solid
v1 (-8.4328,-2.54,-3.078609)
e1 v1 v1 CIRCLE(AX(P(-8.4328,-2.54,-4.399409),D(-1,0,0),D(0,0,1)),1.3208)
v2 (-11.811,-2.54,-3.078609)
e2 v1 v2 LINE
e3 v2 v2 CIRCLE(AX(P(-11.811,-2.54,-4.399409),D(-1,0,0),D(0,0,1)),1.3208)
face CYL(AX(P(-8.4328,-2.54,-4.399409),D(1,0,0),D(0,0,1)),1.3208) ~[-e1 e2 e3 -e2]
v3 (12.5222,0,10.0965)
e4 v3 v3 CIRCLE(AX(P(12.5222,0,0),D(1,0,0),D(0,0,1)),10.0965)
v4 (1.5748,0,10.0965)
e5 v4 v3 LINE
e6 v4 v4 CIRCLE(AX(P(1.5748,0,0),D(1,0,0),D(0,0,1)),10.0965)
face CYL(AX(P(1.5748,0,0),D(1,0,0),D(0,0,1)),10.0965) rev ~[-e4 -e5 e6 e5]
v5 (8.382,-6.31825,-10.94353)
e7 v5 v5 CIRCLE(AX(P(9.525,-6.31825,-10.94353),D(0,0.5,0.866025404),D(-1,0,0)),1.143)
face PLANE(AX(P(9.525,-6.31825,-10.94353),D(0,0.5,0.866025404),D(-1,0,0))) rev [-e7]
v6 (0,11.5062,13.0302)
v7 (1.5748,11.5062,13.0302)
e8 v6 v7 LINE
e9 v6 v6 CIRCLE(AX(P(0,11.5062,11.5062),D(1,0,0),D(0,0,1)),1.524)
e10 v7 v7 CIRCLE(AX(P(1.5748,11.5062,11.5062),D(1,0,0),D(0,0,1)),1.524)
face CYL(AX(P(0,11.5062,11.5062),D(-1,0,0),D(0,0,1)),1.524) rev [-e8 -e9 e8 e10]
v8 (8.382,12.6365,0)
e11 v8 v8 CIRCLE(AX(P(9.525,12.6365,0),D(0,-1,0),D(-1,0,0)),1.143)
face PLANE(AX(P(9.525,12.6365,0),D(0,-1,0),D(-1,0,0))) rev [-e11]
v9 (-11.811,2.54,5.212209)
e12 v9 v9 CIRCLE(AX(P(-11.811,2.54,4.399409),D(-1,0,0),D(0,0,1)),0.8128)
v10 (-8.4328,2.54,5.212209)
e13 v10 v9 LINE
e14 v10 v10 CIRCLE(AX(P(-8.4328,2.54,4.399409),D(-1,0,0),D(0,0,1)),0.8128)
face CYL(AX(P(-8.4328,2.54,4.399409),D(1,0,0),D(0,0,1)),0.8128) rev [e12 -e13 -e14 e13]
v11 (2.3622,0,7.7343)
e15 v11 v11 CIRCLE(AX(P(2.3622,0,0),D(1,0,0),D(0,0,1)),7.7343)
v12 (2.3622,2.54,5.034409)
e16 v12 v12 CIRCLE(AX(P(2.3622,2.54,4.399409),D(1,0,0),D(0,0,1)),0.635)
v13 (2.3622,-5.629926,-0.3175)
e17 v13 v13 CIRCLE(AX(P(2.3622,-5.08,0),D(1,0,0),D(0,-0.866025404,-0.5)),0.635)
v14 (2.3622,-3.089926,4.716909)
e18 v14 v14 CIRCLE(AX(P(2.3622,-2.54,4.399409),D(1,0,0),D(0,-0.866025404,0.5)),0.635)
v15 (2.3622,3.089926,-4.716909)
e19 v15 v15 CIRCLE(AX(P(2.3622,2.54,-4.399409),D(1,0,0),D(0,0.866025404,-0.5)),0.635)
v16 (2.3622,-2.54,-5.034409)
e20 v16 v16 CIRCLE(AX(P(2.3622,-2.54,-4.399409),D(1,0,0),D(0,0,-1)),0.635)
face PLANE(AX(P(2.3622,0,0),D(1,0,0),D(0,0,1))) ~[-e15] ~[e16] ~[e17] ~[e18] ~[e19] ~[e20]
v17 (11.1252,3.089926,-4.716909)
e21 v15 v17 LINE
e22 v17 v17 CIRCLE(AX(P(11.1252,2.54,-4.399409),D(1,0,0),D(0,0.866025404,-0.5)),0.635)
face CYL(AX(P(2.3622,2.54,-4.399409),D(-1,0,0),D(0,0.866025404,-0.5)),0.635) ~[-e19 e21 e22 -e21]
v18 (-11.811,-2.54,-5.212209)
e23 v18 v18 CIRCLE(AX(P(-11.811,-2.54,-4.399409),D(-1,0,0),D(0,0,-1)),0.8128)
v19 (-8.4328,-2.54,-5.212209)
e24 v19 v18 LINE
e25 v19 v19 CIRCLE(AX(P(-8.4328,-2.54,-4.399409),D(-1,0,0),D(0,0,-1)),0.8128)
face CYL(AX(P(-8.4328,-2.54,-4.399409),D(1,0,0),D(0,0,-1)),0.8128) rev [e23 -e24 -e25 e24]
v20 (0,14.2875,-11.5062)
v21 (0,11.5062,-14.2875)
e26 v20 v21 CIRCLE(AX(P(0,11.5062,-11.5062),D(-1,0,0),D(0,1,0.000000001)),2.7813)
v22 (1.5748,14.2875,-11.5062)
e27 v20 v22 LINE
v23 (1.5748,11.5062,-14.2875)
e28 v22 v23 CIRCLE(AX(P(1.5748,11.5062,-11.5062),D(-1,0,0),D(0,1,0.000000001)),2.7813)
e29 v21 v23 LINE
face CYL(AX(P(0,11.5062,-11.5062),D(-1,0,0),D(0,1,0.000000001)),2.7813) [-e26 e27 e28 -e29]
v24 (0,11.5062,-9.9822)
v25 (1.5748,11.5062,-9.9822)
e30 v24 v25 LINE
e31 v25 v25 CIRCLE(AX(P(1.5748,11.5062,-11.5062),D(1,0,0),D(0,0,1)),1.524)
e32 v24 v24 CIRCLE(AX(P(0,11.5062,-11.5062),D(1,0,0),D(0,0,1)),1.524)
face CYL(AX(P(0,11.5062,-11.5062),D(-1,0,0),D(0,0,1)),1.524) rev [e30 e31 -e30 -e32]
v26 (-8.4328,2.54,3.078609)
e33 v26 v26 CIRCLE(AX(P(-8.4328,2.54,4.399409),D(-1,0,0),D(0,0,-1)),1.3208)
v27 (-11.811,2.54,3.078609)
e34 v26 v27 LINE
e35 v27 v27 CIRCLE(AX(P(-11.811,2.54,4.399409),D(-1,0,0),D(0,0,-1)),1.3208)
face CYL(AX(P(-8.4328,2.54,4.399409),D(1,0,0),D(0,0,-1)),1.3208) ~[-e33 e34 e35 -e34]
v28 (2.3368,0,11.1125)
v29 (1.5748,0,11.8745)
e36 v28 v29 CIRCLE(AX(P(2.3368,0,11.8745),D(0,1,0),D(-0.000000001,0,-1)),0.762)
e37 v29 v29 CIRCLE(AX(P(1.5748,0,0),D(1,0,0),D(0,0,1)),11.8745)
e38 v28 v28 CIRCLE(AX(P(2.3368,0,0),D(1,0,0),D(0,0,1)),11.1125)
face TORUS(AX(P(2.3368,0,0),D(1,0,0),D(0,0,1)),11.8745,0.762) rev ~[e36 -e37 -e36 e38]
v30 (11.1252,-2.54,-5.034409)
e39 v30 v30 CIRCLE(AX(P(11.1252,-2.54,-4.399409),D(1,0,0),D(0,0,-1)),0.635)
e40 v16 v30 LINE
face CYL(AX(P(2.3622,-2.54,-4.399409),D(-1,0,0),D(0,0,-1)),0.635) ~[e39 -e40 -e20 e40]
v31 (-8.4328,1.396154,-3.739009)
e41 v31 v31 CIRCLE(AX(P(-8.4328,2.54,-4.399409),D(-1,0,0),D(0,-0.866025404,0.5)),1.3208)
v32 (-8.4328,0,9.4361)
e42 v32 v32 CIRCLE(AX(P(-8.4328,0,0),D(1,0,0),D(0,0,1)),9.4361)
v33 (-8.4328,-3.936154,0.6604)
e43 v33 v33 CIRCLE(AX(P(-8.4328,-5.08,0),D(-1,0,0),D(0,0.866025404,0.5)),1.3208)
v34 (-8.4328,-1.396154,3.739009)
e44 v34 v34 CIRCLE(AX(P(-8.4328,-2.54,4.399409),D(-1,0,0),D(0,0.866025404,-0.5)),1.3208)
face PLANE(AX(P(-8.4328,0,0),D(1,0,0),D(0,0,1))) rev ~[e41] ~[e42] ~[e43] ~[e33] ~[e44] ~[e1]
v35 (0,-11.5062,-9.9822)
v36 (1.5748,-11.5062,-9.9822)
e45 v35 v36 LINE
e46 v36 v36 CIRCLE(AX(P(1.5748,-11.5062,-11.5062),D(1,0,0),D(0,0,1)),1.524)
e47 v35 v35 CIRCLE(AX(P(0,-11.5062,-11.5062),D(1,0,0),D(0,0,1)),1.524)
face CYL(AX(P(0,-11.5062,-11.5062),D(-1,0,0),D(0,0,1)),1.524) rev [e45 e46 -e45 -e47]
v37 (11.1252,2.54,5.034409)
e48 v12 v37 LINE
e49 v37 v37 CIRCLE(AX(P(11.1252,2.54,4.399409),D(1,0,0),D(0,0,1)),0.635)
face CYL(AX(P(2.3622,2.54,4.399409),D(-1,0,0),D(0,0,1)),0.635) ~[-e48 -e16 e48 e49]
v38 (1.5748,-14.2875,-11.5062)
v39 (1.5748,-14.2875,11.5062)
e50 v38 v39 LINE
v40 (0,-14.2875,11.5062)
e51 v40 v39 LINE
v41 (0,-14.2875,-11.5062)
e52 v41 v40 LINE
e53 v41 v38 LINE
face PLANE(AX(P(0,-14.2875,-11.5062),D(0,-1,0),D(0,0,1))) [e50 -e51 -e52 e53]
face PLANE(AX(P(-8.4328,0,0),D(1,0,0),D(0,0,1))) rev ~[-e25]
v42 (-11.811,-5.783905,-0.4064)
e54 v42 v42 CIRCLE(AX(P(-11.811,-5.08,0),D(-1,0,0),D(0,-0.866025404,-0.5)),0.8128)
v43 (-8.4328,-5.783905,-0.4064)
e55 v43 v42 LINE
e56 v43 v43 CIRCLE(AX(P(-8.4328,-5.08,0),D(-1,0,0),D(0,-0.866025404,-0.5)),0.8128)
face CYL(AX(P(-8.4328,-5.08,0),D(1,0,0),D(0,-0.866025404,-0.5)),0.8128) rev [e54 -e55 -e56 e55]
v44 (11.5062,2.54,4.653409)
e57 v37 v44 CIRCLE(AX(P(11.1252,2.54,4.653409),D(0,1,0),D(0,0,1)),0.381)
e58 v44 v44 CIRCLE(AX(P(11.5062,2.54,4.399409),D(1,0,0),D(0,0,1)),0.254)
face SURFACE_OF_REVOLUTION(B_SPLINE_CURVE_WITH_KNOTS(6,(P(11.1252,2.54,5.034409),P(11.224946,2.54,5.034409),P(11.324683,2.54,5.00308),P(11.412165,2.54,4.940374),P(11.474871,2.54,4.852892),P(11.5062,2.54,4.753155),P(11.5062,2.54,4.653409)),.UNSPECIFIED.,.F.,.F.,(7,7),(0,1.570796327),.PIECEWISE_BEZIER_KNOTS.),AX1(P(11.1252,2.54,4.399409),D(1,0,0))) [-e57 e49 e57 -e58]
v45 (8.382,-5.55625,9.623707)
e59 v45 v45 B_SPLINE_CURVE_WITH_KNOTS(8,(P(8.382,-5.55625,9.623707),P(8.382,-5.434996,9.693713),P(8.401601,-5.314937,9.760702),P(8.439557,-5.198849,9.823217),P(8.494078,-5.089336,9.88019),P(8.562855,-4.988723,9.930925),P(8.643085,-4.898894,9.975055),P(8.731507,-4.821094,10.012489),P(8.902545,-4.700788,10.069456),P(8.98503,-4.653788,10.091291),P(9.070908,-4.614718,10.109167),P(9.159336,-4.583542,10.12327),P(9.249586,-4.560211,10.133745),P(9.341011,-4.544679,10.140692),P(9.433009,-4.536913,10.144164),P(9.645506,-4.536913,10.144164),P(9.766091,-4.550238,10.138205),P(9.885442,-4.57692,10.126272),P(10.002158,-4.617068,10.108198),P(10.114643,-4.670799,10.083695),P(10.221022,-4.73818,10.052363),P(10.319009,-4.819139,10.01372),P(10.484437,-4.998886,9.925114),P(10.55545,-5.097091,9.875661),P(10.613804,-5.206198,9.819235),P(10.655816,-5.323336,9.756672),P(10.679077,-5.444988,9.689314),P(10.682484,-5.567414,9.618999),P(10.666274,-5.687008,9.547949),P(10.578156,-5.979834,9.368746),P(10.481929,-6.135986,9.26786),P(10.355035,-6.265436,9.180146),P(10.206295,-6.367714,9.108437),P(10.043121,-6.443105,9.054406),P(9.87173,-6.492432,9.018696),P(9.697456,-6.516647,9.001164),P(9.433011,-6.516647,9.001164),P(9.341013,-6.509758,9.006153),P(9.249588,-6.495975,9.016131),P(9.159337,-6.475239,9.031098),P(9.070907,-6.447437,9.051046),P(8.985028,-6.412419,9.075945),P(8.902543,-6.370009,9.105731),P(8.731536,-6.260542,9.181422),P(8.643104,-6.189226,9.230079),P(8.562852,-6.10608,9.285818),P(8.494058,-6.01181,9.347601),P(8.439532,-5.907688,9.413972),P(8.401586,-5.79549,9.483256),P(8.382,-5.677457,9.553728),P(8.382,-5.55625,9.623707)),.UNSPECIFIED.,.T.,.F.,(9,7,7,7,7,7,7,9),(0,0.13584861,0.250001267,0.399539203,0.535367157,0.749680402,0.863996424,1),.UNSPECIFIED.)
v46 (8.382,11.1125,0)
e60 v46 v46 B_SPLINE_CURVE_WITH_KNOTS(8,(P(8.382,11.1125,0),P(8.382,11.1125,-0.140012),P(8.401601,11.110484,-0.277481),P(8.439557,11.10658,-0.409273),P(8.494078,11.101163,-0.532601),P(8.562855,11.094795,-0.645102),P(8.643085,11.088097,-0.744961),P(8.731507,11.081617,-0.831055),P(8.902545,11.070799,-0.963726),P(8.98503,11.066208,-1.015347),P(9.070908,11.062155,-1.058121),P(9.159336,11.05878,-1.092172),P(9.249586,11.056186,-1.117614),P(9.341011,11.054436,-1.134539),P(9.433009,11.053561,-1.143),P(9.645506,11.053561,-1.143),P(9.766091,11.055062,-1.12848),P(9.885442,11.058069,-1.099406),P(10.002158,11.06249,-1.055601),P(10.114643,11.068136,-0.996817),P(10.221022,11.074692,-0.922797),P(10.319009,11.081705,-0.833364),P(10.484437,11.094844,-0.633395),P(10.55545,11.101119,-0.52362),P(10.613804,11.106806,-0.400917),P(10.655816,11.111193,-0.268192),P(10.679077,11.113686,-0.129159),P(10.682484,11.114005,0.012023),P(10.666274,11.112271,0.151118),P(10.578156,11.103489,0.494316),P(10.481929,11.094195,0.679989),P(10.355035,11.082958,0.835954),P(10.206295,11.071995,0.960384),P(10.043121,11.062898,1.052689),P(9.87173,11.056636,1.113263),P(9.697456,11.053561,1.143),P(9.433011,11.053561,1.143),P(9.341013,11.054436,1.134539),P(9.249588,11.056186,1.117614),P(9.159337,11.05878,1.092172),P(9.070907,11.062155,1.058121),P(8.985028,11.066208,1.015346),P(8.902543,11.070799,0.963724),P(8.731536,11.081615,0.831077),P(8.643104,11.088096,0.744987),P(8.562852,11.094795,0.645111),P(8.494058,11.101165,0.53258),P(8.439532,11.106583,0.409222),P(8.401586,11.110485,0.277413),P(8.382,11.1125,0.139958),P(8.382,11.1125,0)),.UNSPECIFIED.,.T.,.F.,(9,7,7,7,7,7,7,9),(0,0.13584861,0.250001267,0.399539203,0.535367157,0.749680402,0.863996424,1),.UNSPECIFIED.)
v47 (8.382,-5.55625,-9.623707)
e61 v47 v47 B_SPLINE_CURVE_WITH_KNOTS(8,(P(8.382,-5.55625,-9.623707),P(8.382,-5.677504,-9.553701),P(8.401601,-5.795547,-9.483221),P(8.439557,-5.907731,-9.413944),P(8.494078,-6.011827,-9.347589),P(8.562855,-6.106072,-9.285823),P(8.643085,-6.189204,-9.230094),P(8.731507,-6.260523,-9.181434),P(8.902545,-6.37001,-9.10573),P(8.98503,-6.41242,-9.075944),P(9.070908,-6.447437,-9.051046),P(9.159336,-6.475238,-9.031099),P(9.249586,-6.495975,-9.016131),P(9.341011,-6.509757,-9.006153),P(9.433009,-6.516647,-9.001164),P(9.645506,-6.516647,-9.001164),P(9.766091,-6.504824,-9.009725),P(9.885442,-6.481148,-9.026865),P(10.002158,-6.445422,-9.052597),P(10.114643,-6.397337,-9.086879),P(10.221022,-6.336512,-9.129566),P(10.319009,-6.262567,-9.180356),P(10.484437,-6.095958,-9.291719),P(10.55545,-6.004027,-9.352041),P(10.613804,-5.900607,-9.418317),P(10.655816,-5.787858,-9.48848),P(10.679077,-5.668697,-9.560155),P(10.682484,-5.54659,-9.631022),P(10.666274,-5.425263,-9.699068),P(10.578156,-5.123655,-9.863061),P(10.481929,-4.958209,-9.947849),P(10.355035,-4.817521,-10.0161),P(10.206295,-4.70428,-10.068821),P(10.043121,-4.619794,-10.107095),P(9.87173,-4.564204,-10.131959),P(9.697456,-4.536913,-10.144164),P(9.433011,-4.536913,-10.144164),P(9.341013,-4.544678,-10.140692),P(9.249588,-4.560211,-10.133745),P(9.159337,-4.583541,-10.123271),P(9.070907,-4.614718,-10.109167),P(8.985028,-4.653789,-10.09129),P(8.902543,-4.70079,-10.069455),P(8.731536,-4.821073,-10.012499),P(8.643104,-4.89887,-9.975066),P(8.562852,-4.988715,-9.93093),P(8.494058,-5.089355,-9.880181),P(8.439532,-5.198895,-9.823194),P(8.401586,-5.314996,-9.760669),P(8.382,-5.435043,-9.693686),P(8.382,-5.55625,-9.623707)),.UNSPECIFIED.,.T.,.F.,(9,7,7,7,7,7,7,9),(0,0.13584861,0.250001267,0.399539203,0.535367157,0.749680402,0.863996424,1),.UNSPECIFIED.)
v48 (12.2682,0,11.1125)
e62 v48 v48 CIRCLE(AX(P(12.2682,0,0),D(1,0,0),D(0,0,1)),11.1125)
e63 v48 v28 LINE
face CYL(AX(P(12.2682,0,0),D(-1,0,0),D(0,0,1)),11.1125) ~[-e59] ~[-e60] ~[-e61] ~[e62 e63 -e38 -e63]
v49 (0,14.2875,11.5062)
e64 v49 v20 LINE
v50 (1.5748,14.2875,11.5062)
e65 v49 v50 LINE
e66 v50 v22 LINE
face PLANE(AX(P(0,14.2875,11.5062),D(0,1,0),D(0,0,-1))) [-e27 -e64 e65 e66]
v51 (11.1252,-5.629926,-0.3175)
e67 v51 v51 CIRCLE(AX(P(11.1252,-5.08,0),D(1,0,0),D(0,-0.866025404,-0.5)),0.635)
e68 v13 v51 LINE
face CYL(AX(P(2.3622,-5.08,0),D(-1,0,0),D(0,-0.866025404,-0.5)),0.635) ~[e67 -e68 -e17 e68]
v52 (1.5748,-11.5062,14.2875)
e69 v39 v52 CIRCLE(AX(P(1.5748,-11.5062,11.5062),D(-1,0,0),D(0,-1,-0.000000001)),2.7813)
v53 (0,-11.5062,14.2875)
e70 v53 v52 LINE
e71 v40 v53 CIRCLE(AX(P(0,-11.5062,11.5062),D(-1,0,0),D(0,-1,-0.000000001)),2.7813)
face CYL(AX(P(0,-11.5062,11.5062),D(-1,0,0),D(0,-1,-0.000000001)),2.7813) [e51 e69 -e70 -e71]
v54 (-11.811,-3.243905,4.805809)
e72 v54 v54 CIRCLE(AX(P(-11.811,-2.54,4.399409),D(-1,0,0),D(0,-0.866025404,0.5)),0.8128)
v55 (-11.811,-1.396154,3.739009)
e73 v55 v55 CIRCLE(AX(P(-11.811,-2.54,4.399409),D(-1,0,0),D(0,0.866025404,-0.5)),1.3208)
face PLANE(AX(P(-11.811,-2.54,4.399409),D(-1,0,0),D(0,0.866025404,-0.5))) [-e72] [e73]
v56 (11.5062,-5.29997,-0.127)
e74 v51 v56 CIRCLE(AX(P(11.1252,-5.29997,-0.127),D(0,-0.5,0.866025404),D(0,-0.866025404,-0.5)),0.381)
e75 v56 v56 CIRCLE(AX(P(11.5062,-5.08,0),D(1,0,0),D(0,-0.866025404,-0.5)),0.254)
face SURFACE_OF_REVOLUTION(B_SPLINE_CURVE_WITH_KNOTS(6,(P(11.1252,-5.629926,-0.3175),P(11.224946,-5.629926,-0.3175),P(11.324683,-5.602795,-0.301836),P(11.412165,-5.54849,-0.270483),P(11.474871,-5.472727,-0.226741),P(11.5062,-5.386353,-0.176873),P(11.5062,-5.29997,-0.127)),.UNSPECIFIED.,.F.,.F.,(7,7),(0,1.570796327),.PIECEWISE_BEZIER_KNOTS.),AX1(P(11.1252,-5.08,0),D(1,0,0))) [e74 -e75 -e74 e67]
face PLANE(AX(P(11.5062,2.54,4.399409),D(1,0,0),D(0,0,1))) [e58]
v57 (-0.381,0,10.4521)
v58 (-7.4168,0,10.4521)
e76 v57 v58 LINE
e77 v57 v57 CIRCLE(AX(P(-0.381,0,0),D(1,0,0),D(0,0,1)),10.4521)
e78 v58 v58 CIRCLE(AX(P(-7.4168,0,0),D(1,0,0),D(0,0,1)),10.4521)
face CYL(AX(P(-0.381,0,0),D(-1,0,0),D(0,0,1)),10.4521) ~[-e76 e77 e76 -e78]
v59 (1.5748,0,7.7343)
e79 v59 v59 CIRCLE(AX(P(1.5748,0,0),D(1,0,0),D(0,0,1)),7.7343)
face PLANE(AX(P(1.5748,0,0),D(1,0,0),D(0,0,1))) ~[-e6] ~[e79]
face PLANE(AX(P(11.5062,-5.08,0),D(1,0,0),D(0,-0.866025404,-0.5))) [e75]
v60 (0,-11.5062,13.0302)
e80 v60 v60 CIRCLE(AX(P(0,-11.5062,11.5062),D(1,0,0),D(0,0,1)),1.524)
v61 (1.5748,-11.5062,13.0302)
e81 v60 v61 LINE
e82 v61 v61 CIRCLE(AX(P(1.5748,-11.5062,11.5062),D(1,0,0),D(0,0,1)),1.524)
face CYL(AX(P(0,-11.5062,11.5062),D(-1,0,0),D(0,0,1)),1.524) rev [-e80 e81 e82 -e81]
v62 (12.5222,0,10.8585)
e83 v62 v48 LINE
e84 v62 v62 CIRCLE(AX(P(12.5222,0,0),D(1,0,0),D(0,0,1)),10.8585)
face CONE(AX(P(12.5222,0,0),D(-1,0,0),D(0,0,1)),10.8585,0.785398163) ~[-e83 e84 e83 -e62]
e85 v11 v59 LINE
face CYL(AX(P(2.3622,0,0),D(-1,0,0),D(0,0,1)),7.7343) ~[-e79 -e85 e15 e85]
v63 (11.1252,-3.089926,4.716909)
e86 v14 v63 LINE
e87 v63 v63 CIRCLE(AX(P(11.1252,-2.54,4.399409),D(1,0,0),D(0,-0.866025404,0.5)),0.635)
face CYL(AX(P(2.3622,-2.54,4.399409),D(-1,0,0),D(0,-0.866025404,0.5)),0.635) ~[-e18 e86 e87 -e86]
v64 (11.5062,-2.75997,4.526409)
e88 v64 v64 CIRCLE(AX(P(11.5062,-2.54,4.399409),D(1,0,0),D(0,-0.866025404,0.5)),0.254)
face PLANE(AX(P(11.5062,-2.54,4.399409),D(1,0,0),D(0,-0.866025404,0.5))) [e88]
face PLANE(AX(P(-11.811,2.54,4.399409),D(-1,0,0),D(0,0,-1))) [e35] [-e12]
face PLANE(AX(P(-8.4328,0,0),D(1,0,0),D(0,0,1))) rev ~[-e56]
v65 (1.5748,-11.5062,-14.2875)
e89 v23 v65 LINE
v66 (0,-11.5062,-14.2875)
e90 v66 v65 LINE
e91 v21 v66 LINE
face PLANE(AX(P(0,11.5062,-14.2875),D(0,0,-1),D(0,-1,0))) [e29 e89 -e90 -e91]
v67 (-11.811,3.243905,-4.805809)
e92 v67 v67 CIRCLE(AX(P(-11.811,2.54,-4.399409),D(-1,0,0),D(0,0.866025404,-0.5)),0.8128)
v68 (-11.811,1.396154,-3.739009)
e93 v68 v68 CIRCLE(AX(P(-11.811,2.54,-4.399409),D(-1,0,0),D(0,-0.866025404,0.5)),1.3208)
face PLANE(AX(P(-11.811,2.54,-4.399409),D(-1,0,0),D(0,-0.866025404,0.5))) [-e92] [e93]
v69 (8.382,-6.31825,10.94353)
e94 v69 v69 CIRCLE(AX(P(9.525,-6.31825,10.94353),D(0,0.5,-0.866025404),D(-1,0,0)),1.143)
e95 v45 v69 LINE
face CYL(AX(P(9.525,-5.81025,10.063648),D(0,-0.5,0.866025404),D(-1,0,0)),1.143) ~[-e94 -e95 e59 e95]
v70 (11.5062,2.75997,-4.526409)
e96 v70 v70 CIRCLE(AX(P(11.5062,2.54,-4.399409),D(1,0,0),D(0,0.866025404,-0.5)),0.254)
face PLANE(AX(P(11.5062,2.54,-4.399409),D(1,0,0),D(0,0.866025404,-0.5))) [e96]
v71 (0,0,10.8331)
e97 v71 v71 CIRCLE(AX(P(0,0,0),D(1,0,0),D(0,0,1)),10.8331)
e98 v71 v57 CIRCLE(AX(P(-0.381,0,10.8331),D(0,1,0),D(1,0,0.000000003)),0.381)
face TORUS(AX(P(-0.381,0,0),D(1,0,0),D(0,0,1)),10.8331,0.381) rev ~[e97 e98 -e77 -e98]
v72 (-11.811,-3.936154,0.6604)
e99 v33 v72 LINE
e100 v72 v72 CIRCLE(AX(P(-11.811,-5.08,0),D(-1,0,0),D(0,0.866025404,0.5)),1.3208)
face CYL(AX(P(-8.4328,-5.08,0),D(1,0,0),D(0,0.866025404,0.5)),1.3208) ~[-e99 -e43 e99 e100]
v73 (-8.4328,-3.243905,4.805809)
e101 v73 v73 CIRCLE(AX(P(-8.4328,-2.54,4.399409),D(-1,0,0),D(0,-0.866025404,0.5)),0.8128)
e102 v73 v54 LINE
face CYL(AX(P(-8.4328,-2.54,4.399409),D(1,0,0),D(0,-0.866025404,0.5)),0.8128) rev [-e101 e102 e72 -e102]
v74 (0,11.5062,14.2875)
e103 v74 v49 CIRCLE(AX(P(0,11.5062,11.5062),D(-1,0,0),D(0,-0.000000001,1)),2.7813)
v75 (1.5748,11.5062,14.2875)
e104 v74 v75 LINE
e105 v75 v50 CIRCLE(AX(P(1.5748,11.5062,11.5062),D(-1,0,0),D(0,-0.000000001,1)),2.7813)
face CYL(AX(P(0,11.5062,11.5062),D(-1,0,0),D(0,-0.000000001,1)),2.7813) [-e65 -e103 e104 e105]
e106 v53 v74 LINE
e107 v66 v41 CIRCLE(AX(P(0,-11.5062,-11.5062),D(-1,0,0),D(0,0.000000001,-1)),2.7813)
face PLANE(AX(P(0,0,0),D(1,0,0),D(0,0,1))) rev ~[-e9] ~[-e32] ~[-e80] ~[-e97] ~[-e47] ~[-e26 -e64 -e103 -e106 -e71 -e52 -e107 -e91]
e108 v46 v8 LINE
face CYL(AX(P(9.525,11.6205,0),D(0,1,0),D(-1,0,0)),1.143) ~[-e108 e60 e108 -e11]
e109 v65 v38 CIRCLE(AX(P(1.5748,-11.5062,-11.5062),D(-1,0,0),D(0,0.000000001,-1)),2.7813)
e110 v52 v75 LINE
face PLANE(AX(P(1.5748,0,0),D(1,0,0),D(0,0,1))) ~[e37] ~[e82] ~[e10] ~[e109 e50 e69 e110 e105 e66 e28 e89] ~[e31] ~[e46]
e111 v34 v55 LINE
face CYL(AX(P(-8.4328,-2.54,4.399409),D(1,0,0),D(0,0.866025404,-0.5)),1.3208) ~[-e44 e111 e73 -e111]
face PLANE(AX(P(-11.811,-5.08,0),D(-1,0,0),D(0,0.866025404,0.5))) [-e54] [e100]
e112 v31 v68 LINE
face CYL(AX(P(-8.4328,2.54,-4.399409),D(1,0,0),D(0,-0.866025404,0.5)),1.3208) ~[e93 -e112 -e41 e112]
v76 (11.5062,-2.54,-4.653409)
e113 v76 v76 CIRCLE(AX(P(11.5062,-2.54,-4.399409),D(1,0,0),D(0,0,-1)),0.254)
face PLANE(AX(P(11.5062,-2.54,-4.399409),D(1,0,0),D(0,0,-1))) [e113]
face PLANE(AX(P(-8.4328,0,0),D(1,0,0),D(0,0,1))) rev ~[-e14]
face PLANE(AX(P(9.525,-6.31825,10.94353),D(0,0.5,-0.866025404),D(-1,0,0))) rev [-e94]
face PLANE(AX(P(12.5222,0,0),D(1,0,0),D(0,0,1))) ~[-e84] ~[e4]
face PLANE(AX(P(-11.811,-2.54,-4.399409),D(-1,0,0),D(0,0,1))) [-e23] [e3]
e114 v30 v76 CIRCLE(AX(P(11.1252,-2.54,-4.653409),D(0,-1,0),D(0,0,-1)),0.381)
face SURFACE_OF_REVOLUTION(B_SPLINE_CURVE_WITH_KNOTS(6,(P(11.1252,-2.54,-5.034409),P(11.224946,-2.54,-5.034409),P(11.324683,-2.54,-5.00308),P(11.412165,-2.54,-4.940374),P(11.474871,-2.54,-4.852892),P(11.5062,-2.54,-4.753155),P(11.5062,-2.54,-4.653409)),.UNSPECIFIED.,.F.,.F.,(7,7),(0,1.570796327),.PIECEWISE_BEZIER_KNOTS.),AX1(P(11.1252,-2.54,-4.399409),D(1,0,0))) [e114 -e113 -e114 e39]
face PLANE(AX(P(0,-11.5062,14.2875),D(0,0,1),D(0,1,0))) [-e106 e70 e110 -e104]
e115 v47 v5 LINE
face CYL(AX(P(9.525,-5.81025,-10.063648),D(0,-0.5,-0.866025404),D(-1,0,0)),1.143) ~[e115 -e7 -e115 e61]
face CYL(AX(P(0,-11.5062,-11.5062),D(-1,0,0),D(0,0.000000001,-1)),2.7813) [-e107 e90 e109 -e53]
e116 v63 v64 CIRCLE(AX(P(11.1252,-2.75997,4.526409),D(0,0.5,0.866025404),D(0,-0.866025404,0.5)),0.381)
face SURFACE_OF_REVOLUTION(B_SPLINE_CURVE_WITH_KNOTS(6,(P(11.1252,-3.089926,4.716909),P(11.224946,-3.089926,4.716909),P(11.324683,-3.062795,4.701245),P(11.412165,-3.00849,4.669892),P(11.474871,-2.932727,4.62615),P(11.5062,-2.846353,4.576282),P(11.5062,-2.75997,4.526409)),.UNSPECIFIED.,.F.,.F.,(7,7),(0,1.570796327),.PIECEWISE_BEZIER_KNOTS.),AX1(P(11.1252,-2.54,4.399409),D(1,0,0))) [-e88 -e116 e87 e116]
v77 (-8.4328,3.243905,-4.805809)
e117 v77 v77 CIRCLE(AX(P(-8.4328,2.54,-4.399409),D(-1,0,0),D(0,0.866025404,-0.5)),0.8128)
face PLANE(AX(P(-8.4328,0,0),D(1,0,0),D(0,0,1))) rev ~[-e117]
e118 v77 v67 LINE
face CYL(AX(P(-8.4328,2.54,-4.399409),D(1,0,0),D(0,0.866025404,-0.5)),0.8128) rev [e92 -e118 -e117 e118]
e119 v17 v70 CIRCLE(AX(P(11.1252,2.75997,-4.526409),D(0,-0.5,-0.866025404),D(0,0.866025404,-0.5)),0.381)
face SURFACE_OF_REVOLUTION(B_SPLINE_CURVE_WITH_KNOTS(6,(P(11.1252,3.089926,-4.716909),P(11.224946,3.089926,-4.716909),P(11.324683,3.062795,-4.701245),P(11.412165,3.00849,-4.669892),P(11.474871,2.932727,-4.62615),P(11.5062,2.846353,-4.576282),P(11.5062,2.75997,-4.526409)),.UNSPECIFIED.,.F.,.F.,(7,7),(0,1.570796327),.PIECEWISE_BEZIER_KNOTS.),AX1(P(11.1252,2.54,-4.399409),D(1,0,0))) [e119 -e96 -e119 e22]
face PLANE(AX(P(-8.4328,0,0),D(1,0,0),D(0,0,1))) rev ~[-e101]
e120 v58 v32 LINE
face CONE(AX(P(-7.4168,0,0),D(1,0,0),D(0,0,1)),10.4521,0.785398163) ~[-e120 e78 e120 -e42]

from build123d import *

# Parameters (mm, degrees)
SKETCH2_OUTSIDE_W         = 96.1
SKETCH2_OUTSIDE_H         = 96.1
SKETCH2_OUTSIDE_R         = 1.524
CE_00_BODY_FLANGE_DEPTH   = 1.5748
SKETCH5_W                 = 1.143
SKETCH5_H                 = 2.032
CP_00_BAYONETE_PINS_COUNT = 3
SKETCH3_R                 = 1.3208
SKETCH3_R_2               = 0.8128
BE_00_TERMINAL_DEPTH      = 3.3782
CP_00_TERMINAL_COUNT      = 6
SKETCH9_R                 = 0.635
BOSS_EXTRUDE1_DEPTH       = 9.144
FILLET1_R                 = 0.381
CIRPATTERN1_COUNT         = 6
FILLET1_OF_CIRPATTERN1_R  = 0.381


with BuildPart() as part:
    # Sketch1 → BR-00 Body Revolve (revolve)
    with BuildSketch(Plane.XY, mode=Mode.PRIVATE) as br_00_body_revolve_sk:
        with BuildLine():
            Line((1.5748, 11.8745), (1.5748, 36.5125))
            Line((1.5748, 36.5125), (0, 36.5125))
            Line((0, 36.5125), (0, 10.8331))
            ThreePointArc((0, 10.8331), (-0.111592316, 10.563692316), (-0.381, 10.4521))
            Line((-0.381, 10.4521), (-7.4168, 10.4521))
            Line((-7.4168, 10.4521), (-8.4328, 9.4361))
            Line((-8.4328, 9.4361), (-8.4328, 0))
            Line((-8.4328, 0), (2.3622, 0))
            Line((2.3622, 0), (2.3622, 7.7343))
            Line((2.3622, 7.7343), (1.5748, 7.7343))
            Line((1.5748, 7.7343), (1.5748, 10.0965))
            Line((1.5748, 10.0965), (12.5222, 10.0965))
            Line((12.5222, 10.0965), (12.5222, 10.8585))
            Line((12.5222, 10.8585), (12.2682, 11.1125))
            Line((12.2682, 11.1125), (2.3368, 11.1125))
            ThreePointArc((2.3368, 11.1125), (1.797984633, 11.335684633), (1.5748, 11.8745))
        make_face()
    revolve(br_00_body_revolve_sk.sketch.rotate(Axis((25.6286, 0, 0), (1, 0, 0)), 90), axis=Axis((25.6286, 0, 0), (1, 0, 0)))

    # Sketch2 outside → CE-00 Body Flange (cut)
    # profile 1 of 5: a face of its own
    with BuildSketch(Plane(origin=(0, 0, 0), x_dir=(0, 0, -1), z_dir=(1, 0, 0))):
        Rectangle(SKETCH2_OUTSIDE_W, SKETCH2_OUTSIDE_H)
        with BuildLine():
            Line((-11.5062, 14.2875), (11.5062, 14.2875))
            ThreePointArc((11.5062, 14.2875), (13.472876091, 13.472876091), (14.2875, 11.5062))
            Line((14.2875, 11.5062), (14.2875, -11.5062))
            ThreePointArc((14.2875, -11.5062), (13.472876091, -13.472876091), (11.5062, -14.2875))
            Line((11.5062, -14.2875), (-11.5062, -14.2875))
            ThreePointArc((-11.5062, -14.2875), (-13.472876091, -13.472876091), (-14.2875, -11.5062))
            Line((-14.2875, -11.5062), (-14.2875, 11.5062))
            ThreePointArc((-14.2875, 11.5062), (-13.472876091, 13.472876091), (-11.5062, 14.2875))
        make_face(mode=Mode.SUBTRACT)
    # profile 2 of 5: a face of its own
    with BuildSketch(Plane(origin=(0, 0, 0), x_dir=(0, 0, -1), z_dir=(1, 0, 0))):
        with Locations(Location((11.5062, 11.5062, 0), (0, 0, 180))):
            Circle(SKETCH2_OUTSIDE_R)
    # profile 3 of 5: a face of its own
    with BuildSketch(Plane(origin=(0, 0, 0), x_dir=(0, 0, -1), z_dir=(1, 0, 0))):
        with Locations(Location((11.5062, -11.5062, 0), (0, 0, 180))):
            Circle(SKETCH2_OUTSIDE_R)
    # profile 4 of 5: a face of its own
    with BuildSketch(Plane(origin=(0, 0, 0), x_dir=(0, 0, -1), z_dir=(1, 0, 0))):
        with Locations(Location((-11.5062, -11.5062, 0), (0, 0, 180))):
            Circle(SKETCH2_OUTSIDE_R)
    # profile 5 of 5: a face of its own
    with BuildSketch(Plane(origin=(0, 0, 0), x_dir=(0, 0, -1), z_dir=(1, 0, 0))):
        with Locations(Location((-11.5062, 11.5062, 0), (0, 0, 180))):
            Circle(SKETCH2_OUTSIDE_R)
    extrude(amount=CE_00_BODY_FLANGE_DEPTH, mode=Mode.SUBTRACT)

    # Sketch5 → BR-00 Bayonete Pin (revolve)
    with BuildSketch(Plane.XY, mode=Mode.PRIVATE) as br_00_bayonete_pin_sk:
        with Locations((10.0965, 11.6205)):
            Rectangle(SKETCH5_W, SKETCH5_H)
    br_00_bayonete_pin = revolve(br_00_bayonete_pin_sk.sketch.rotate(Axis((9.525, 12.6365, 0), (0, -1, 0)), 180), axis=Axis((9.525, 12.6365, 0), (0, -1, 0)))

    # CP-00 Bayonete Pins: BR-00 Bayonete Pin ×3 about axis
    cp_00_bayonete_pins_axis = Axis((0, 0, 0), (1, 0, 0))
    for i in range(1, CP_00_BAYONETE_PINS_COUNT):
        add(br_00_bayonete_pin.rotate(cp_00_bayonete_pins_axis, i * 360 / CP_00_BAYONETE_PINS_COUNT))

    # Sketch3 → BE-00 Terminal (add)
    with BuildSketch(Plane.ZY.offset(8.4328)):
        with Locations(Location((4.399409051, 2.54, 0), (0, 0, 180))):
            Circle(SKETCH3_R)
        with Locations((4.399409051, 2.54)):
            Circle(SKETCH3_R_2, mode=Mode.SUBTRACT)
    be_00_terminal = extrude(amount=BE_00_TERMINAL_DEPTH)

    # CP-00 Terminal: BE-00 Terminal ×6 about axis, 1 skipped
    cp_00_terminal_axis = Axis((0, 0, 0), (1, 0, 0))
    add([be_00_terminal.rotate(cp_00_terminal_axis, i * 360 / CP_00_TERMINAL_COUNT) for i in range(1, CP_00_TERMINAL_COUNT) if i not in (5,)])

    # Sketch9 → Boss-Extrude1 (add)
    with BuildSketch(Plane(origin=(2.3622, 0, 0), x_dir=(0, 0, -1), z_dir=(1, 0, 0))):
        with Locations(Location((-4.399409051, 2.54, 0), (0, 0, 180))):
            Circle(SKETCH9_R)
    boss_extrude1 = extrude(amount=BOSS_EXTRUDE1_DEPTH)

    # Fillet1
    fillet1_edges = [part.edges().sort_by_distance(p)[0] for p in [
        (11.5062, 2.54, 3.764409051),
    ]]
    fillet(fillet1_edges, radius=FILLET1_R)

    # CirPattern1: Boss-Extrude1 ×6 about axis, 1 skipped
    cirpattern1_axis = Axis((0, 0, 0), (1, 0, 0))
    add([boss_extrude1.rotate(cirpattern1_axis, i * 360 / CIRPATTERN1_COUNT) for i in range(1, CIRPATTERN1_COUNT) if i not in (5,)])

    # Fillet1 of CirPattern1
    fillet1_of_cirpattern1_edges = [part.edges().sort_by_distance(p)[0] for p in [
        (11.5062, -1.990073869, 4.081909051),
        (11.5062, -4.530073869, 0.3175),
        (11.5062, -2.54, -3.764409051),
        (11.5062, 1.990073869, -4.081909051),
    ]]
    fillet(fillet1_of_cirpattern1_edges, radius=FILLET1_OF_CIRPATTERN1_R)


solid = part.part
